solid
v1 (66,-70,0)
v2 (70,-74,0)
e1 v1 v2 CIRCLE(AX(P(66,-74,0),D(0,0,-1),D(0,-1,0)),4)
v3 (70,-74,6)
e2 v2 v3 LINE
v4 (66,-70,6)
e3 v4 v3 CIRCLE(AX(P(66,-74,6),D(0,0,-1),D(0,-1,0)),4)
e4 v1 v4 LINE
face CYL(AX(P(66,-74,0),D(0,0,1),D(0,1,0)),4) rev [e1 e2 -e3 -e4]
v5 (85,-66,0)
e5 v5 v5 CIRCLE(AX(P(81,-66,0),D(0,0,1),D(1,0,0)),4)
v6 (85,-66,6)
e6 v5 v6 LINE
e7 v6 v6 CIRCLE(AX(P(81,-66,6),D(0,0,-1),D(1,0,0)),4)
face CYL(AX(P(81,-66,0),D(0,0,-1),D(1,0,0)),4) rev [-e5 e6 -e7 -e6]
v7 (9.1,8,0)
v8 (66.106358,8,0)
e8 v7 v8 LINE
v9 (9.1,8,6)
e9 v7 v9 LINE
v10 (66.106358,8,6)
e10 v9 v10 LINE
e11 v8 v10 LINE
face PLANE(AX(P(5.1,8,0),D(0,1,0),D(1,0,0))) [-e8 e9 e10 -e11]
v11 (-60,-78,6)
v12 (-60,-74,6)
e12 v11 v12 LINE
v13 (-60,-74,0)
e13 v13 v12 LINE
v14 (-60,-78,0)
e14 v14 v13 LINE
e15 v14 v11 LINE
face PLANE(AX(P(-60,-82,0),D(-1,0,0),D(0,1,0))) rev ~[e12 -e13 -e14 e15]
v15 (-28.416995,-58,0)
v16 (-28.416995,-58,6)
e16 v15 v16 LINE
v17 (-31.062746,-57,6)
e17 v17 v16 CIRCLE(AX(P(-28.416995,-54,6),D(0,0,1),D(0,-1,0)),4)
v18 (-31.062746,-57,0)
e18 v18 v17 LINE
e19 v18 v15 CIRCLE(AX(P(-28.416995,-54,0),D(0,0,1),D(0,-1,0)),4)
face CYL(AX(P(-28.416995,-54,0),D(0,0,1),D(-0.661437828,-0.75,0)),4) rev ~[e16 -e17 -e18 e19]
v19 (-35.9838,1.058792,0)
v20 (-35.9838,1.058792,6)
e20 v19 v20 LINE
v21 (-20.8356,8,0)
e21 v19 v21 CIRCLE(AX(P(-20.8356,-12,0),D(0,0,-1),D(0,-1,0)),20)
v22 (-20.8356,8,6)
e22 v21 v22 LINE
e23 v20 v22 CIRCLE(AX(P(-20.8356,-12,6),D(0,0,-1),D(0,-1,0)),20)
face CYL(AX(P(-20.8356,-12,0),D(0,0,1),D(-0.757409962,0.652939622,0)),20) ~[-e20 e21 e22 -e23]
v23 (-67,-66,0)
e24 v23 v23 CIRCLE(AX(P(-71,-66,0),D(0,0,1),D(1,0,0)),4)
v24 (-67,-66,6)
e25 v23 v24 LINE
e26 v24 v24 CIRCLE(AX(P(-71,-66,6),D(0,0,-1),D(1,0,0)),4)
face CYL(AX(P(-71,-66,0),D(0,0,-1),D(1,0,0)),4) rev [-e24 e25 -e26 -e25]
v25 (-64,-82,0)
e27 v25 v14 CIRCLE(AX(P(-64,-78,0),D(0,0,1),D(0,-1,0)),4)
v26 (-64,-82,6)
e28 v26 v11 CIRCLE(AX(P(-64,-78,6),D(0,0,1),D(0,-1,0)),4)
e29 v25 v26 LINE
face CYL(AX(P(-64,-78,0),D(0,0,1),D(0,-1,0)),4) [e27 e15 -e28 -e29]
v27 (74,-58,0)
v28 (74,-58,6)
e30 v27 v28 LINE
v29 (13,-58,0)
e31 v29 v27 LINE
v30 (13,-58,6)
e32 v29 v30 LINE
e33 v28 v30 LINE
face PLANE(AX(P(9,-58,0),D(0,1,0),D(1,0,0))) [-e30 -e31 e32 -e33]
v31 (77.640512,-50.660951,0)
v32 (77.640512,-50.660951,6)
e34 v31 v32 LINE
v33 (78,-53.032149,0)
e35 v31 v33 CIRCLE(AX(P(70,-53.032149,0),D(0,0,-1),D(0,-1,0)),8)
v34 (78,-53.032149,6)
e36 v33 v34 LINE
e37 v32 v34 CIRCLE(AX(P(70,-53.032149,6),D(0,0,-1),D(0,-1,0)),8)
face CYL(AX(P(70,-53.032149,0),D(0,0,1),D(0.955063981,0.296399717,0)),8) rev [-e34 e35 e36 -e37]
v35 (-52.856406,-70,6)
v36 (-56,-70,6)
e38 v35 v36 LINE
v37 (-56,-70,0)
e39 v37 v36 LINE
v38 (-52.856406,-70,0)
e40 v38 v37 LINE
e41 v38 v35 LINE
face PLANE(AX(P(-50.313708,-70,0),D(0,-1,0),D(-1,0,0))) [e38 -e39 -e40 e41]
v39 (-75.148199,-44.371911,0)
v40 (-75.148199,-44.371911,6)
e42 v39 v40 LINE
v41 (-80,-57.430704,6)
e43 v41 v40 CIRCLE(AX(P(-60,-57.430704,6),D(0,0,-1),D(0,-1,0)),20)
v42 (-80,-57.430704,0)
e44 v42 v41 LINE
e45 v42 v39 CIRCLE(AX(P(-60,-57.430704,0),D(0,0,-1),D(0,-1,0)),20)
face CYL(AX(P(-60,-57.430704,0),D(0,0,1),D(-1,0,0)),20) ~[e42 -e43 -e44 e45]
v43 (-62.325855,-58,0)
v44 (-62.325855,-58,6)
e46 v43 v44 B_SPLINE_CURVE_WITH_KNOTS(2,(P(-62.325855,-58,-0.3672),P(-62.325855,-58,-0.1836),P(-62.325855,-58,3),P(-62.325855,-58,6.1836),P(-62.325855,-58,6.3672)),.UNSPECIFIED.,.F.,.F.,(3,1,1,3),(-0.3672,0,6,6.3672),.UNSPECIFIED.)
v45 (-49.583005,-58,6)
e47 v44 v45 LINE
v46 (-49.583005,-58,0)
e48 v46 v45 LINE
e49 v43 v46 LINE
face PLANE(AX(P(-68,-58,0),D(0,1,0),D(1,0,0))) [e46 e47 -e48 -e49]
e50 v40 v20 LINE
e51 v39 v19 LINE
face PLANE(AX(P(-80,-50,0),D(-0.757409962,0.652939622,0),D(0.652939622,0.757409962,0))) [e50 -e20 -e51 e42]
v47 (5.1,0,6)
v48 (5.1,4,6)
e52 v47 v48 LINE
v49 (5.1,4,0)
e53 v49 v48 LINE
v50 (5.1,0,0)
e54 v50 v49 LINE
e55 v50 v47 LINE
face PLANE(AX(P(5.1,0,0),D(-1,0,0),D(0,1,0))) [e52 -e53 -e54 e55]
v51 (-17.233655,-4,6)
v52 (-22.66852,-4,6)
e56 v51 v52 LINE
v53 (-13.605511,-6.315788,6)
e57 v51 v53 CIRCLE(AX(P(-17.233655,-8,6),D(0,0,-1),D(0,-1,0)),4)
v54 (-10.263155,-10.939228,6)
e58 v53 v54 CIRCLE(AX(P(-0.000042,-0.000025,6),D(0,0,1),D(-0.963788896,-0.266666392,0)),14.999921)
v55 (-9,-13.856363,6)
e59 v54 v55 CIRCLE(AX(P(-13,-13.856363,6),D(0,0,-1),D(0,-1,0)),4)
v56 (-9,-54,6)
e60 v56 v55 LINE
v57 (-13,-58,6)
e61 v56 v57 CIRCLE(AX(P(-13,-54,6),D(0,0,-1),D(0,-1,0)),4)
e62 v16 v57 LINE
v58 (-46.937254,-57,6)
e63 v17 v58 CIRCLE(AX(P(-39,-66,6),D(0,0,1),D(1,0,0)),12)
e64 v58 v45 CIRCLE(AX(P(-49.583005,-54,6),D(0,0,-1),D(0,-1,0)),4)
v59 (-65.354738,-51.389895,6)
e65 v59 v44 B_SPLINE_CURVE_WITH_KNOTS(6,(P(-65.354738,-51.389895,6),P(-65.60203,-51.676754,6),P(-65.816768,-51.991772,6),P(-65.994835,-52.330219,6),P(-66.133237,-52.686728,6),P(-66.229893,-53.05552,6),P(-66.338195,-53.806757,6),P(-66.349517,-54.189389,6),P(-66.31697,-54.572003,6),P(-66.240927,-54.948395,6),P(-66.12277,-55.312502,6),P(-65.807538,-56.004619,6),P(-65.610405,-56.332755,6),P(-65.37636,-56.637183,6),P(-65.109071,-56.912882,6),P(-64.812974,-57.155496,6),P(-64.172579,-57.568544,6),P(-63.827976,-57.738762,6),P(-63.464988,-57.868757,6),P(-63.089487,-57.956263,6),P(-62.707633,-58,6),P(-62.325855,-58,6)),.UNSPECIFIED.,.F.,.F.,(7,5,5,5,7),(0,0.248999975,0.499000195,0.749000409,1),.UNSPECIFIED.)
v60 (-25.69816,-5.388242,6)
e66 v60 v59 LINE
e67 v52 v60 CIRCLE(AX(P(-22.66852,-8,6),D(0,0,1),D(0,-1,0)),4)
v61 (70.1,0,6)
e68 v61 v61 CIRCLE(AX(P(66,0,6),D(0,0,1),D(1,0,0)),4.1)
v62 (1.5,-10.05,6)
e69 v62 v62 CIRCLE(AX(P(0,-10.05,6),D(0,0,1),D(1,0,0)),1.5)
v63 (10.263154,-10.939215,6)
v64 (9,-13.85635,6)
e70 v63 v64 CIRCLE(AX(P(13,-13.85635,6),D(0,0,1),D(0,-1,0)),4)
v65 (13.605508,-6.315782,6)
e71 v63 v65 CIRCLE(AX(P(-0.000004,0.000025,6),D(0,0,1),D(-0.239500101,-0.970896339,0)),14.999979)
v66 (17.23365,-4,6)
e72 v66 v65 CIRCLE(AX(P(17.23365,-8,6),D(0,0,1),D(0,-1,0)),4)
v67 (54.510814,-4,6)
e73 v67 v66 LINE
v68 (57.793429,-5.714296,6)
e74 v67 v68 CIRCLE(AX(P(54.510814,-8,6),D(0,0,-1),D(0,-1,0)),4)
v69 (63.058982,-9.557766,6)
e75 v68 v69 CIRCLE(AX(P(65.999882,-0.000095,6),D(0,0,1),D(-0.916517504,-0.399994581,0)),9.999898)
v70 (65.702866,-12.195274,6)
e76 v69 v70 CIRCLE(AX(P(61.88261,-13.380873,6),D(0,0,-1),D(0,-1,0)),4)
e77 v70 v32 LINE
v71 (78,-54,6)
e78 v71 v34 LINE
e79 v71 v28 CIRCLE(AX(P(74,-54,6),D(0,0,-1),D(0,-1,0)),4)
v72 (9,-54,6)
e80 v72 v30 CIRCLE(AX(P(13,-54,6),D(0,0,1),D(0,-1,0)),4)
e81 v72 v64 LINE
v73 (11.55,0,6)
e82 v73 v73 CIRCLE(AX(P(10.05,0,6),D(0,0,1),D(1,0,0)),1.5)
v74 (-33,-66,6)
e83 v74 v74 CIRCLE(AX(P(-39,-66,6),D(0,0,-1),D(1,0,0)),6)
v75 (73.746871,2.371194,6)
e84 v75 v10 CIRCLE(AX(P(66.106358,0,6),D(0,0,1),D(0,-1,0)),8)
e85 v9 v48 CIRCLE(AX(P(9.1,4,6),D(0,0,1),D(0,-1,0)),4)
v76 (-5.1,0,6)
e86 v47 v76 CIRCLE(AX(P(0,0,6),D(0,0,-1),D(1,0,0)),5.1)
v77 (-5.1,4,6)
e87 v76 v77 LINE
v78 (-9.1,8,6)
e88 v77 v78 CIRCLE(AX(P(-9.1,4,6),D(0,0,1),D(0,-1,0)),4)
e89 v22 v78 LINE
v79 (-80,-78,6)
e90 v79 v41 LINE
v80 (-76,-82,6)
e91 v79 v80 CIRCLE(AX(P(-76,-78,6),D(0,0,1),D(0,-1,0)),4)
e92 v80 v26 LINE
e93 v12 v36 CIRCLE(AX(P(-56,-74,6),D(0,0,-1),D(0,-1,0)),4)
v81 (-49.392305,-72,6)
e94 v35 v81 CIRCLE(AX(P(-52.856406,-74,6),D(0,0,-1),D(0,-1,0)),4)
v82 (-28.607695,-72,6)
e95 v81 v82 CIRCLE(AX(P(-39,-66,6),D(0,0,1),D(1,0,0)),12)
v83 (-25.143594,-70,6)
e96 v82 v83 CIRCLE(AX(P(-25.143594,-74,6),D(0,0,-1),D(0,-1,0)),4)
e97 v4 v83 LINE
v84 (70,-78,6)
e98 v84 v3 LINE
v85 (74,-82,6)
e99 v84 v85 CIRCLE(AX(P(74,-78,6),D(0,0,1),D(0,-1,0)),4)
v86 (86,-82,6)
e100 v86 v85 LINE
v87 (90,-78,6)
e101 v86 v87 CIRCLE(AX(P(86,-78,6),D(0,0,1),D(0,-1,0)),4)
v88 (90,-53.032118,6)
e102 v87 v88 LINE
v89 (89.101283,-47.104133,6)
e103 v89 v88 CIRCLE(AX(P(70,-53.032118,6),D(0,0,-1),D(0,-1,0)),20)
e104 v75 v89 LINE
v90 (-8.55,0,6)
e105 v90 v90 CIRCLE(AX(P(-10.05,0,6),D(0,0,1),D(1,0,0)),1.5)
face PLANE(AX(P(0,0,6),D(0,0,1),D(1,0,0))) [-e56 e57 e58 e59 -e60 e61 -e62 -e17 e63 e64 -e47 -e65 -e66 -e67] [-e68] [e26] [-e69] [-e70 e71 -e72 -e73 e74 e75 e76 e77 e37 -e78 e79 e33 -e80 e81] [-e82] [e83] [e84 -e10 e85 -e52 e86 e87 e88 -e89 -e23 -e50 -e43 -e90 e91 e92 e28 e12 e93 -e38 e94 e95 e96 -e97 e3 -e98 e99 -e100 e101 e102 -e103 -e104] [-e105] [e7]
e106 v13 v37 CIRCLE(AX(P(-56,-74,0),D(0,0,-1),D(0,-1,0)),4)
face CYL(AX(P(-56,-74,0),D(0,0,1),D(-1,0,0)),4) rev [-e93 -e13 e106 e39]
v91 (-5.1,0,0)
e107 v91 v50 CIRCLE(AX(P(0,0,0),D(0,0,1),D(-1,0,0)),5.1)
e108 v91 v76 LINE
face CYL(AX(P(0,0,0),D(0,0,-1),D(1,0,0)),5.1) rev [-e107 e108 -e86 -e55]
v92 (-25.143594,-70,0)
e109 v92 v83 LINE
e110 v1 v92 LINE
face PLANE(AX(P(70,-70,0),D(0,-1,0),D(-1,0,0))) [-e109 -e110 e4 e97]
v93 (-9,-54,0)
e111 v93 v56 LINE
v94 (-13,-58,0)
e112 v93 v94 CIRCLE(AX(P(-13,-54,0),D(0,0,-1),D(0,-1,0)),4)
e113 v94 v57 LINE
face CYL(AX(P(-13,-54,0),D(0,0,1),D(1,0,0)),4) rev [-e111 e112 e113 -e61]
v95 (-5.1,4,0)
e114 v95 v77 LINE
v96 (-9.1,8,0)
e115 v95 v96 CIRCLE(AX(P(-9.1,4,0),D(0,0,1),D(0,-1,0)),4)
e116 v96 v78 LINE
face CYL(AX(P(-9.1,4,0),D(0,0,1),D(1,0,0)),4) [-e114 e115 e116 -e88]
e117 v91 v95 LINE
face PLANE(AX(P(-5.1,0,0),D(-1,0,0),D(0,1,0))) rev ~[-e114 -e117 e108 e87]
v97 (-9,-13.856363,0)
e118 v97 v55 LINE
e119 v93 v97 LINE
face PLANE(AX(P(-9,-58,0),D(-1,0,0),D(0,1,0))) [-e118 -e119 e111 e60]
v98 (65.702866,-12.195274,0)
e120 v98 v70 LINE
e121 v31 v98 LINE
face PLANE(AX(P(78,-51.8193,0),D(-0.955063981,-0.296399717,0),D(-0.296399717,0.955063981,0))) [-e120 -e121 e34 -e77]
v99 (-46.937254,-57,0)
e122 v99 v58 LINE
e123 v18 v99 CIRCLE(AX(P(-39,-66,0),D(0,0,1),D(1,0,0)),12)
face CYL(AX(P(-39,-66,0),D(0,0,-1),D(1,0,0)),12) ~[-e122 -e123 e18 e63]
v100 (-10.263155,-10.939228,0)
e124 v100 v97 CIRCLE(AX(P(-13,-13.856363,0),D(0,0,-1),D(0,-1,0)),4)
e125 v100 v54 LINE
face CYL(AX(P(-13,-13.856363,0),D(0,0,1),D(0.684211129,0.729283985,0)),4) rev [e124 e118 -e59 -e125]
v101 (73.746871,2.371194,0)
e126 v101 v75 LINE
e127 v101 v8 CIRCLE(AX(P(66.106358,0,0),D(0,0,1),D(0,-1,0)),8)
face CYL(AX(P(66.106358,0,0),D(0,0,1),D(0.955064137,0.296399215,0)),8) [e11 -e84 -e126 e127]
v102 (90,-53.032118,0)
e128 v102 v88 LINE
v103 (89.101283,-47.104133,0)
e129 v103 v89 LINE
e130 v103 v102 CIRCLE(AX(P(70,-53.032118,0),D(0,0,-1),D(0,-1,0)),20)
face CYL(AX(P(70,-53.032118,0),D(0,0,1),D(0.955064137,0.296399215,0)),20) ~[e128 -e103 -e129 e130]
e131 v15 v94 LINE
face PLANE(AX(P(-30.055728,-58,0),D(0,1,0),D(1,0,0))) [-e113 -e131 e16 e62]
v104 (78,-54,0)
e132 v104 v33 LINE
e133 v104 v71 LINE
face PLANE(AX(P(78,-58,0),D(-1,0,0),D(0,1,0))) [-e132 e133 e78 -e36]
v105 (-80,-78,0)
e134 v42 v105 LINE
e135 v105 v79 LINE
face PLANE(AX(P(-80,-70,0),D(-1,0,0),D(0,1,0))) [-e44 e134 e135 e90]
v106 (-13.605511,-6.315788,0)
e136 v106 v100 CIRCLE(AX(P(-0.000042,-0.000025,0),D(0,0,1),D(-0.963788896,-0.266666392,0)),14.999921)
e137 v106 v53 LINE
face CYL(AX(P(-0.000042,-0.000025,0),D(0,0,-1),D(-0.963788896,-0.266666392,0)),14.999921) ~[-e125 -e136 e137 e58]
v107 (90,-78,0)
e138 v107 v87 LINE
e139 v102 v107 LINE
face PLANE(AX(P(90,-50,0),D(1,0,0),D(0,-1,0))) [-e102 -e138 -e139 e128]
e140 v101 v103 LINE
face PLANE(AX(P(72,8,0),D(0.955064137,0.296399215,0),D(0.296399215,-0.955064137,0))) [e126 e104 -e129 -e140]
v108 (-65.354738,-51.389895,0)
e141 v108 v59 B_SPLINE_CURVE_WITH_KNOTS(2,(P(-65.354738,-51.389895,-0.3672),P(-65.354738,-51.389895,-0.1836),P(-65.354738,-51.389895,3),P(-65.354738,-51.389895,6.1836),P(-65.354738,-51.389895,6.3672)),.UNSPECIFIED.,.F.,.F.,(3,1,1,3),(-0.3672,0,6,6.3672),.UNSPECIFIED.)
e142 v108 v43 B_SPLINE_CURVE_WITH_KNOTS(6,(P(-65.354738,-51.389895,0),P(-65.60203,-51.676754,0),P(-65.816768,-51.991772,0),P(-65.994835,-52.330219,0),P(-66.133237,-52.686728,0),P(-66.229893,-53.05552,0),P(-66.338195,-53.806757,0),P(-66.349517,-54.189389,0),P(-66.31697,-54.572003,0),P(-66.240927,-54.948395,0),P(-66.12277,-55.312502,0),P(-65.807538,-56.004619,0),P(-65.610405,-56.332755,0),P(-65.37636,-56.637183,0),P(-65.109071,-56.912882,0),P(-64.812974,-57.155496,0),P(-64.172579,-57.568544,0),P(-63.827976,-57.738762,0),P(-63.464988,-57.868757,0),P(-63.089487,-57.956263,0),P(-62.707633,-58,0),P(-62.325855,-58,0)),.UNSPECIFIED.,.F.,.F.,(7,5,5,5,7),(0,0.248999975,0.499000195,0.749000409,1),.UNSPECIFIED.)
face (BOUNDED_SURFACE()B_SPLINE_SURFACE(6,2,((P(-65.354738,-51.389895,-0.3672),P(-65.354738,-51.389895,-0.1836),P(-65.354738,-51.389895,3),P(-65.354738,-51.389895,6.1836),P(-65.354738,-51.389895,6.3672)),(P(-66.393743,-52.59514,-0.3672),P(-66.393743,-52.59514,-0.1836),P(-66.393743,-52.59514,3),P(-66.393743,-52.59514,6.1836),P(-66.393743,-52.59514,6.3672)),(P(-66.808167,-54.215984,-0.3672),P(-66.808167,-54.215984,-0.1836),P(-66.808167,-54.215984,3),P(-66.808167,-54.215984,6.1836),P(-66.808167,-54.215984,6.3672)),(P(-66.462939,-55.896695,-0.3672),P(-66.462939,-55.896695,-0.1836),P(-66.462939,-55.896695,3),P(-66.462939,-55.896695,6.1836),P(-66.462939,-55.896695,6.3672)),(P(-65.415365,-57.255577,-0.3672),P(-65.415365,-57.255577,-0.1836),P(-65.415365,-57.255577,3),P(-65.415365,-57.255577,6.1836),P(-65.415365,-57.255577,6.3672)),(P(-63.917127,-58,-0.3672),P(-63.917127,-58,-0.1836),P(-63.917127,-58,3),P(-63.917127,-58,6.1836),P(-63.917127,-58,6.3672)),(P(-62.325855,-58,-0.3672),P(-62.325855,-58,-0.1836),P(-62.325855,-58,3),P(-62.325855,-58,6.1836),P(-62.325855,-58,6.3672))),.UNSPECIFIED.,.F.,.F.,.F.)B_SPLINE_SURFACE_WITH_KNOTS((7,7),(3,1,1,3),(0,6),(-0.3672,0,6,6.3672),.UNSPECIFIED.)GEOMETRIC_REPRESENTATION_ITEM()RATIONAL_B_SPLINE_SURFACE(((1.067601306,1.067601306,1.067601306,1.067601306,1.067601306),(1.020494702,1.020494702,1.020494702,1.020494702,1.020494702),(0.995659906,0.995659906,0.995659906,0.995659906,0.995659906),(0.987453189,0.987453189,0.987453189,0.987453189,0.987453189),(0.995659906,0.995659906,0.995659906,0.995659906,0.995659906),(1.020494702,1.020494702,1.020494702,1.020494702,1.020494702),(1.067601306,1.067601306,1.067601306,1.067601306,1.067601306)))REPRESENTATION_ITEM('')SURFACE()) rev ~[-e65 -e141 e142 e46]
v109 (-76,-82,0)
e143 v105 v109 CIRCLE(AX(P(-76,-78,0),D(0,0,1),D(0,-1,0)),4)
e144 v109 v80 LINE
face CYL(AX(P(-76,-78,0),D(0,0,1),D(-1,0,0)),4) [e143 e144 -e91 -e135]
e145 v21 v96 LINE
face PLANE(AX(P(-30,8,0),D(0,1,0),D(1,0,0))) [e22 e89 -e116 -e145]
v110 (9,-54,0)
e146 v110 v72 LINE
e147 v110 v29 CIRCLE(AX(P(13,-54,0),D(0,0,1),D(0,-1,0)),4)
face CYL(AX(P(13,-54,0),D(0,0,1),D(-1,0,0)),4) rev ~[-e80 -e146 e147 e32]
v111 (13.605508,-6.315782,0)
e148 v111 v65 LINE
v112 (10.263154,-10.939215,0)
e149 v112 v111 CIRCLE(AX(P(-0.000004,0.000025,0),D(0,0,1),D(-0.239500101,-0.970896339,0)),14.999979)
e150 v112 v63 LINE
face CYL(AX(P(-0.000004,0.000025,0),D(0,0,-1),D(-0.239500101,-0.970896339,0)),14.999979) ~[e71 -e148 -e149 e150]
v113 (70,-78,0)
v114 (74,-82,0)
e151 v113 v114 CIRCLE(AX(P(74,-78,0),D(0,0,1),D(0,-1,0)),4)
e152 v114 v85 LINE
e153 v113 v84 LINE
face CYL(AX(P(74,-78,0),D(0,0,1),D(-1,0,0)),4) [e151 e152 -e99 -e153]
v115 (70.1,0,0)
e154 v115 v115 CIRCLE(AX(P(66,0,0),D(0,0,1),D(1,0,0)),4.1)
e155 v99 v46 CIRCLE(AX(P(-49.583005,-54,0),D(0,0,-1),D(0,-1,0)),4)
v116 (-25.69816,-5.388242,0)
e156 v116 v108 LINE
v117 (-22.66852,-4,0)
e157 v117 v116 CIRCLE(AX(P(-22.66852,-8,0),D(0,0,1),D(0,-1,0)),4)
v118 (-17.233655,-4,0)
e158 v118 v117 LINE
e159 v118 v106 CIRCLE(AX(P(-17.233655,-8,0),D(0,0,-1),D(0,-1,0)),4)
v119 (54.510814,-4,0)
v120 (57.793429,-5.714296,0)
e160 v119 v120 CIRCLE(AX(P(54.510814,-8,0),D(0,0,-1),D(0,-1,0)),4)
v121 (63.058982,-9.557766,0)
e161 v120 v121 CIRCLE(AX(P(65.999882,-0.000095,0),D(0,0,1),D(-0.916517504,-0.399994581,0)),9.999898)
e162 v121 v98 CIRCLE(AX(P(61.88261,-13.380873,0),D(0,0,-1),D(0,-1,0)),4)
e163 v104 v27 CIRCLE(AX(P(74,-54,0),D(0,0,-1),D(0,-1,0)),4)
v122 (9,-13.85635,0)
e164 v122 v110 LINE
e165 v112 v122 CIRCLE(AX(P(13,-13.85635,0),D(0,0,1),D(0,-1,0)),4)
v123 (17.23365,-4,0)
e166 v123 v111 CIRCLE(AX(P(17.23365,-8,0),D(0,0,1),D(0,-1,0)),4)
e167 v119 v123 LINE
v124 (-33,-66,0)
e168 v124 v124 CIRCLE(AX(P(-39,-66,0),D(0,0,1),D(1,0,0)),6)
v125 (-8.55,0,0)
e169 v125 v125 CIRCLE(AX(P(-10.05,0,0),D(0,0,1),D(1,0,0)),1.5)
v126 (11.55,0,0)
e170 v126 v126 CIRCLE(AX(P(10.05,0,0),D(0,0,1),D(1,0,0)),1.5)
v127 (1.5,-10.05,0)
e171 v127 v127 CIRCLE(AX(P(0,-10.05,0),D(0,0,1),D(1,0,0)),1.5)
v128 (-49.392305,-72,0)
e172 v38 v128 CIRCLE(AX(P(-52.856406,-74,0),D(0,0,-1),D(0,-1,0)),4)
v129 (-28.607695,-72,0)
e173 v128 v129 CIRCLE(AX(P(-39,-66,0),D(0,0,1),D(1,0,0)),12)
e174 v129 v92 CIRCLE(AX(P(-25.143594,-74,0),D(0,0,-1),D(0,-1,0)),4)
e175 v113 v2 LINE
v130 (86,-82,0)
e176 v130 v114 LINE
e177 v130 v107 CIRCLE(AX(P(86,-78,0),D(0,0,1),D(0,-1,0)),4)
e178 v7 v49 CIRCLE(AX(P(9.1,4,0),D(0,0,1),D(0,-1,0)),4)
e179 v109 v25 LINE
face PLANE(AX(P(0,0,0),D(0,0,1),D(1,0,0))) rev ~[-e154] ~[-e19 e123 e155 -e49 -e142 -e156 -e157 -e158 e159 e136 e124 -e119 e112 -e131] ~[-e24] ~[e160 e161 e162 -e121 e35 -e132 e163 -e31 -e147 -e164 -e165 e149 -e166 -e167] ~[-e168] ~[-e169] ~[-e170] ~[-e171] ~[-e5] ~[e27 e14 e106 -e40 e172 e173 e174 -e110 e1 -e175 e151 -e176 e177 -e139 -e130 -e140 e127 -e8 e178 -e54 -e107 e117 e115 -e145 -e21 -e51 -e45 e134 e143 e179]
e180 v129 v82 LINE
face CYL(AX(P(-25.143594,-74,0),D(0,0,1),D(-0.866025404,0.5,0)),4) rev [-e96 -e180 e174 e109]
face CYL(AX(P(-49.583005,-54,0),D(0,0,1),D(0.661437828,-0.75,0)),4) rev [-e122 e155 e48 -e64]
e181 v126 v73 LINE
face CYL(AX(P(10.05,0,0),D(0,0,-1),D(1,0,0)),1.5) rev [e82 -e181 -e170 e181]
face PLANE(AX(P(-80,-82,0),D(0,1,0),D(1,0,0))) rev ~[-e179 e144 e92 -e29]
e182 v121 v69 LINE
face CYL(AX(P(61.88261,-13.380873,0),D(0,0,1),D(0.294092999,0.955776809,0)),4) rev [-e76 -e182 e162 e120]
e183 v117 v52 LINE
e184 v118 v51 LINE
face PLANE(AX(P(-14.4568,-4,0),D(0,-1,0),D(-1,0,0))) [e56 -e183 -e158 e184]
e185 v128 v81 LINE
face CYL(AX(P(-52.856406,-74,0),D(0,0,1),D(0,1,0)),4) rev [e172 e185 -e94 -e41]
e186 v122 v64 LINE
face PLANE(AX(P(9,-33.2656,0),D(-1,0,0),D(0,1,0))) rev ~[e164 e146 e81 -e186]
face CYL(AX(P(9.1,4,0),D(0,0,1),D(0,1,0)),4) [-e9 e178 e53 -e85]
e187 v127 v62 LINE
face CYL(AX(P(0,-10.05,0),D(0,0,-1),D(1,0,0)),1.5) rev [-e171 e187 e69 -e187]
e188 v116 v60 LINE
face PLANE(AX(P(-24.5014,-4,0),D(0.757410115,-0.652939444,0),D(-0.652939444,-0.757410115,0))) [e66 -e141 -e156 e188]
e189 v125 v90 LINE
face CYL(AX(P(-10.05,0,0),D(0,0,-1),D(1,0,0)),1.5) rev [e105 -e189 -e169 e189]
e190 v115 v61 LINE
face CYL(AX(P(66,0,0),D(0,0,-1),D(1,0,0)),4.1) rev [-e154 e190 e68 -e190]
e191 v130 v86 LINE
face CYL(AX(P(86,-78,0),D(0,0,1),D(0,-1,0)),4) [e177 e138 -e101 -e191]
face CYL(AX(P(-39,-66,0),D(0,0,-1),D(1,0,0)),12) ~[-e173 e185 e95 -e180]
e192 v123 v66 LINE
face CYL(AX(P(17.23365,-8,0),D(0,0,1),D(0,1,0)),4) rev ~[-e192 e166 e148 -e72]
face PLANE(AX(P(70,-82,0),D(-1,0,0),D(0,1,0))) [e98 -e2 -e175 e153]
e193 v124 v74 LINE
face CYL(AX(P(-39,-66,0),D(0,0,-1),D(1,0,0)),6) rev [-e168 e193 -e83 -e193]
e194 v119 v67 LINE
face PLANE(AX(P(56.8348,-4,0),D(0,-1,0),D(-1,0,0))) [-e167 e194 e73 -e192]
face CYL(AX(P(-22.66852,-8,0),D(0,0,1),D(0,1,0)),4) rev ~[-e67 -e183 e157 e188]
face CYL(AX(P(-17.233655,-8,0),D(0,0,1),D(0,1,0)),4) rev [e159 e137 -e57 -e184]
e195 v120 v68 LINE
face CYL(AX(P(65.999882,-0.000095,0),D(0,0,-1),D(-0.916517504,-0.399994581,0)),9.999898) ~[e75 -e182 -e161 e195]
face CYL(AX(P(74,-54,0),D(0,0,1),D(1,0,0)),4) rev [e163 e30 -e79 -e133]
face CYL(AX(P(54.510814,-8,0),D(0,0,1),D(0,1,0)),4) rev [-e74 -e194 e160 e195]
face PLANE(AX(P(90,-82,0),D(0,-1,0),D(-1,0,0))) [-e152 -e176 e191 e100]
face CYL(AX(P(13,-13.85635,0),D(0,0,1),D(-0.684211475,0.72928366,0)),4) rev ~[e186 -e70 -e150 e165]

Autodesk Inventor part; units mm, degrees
ref_plane "YZ Plane" through (0, 0, 0) normal (1, 0, 0) x (0, 1, 0)
ref_plane "XZ Plane" through (0, 0, 0) normal (0, 1, 0) x (-1, 0, 0)
ref_plane "XY Plane" through (0, 0, 0) normal (0, 0, 1) x (1, 0, 0)
sketch "Эскиз1" plane through (0, 0, 0) normal (0, 0, 1) x (1, 0, 0)
  circle A0 centre (0, 0) radius 60 construction
  line L0 (-80, -70) -> (-80, -50)
  line L1 (-80, -50) -> (-30, 8)
  line L2 (-30, 8) -> (72, 8)
  line L3 (72, 8) -> (90, -50)
  line L4 (90, -50) -> (90, -70)
  line L5 (90, -70) -> (-80, -70)
  line L6 (0, -110.4) -> (0, 88.4) construction
  line L7 (-115.4, 0) -> (132.4, 0) construction
  line L8 (-80, -50) -> (90, -50) construction
  circle A1 centre (67, -35) radius 12.5 construction
  circle A2 centre (0, 0) radius 5.1
  circle A3 centre (66, 0) radius 4.1
  circle A4 centre (67, -35) radius 4
  circle A5 centre (67, -35) radius 8.5 construction
  line L9 (67, -49.1463) -> (67, -22.5) construction
  circle A6 centre (67, -43.5) radius 1.6
  circle A7 centre (67, -26.5) radius 1.6
  line L10 (-24.5014, -4) -> (-68, -54.4584)
  line L11 (-68, -54.4584) -> (-68, -58)
  line L12 (-68, -58) -> (78, -58)
  line L13 (78, -58) -> (78, -51.8193)
  line L14 (78, -51.8193) -> (63.1595, -4)
  line L15 (63.1595, -4) -> (-24.5014, -4)
  arc A8 (-3.5925, -14.5634) -> (14.4568, -4) centre (0, 0) ccw
  arc A9 (-14.4568, -4) -> (-3.5925, -14.5634) centre (0, 0) ccw
  arc A10 (14.4568, -4) -> (-14.4568, -4) centre (0, 0) ccw construction
  line L16 (-9, -58) -> (-9, -12)
  line L17 (9, -58) -> (9, -12)
  arc A11 (65.0062, -9.9505) -> (56.8348, -4) centre (66, 0) ccw construction
  line L18 (68.4354, -21) -> (58.4354, -21)
  line L19 (58.4354, -21) -> (47.8258, -58)
  arc A12 (56.8348, -4) -> (65.0062, -9.9505) centre (66, 0) ccw
  line L20 (-80, -70) -> (-80, -82)
  line L21 (-80, -82) -> (-60, -82)
  line L22 (-60, -82) -> (-60, -70)
  line L23 (90, -70) -> (90, -82)
  line L24 (90, -82) -> (70, -82)
  line L25 (70, -82) -> (70, -70)
  circle A13 centre (-71, -66) radius 4
  circle A14 centre (81, -66) radius 4
  line L26 (-80, -66) -> (90, -66) construction
  line L27 (-5.1, 0) -> (-5.1, 8)
  line L28 (5.1, 0) -> (5.1, 8)
  circle A15 centre (37.4657, -40.2656) radius 6
  circle A16 centre (37.4657, -40.2656) radius 12
  circle A17 centre (67, -35) radius 30 construction
  circle A18 centre (0, 0) radius 55 construction
  line L29 (9, -40.2656) -> (74.4144, -40.2656) construction
  line L30 (9, -47.2656) -> (50.9039, -47.2656)
  line L31 (9, -33.2656) -> (54.9183, -33.2656)
  line L32 (69.7458, -32.0913) -> (70, -32.0913)
  circle A19 centre (0, 0) radius 10.05 construction
  circle A20 centre (-10.05, 0) radius 1.5
  circle A21 centre (10.05, 0) radius 1.5
  circle A22 centre (0, -10.05) radius 1.5
  circle A23 centre (-39, -66) radius 12
  circle A24 centre (-39, -66) radius 6
  point P0 (56.8348, -4)
  point P1 (65.0062, -9.9505)
  point P2 (59.5152, -7.6123)
  point P3 (27.7189, -33.2656)
  point P4 (27.7189, -47.2656)
  point P5 (47.2125, -47.2656)
  point P6 (47.2125, -33.2656)
  point P7 (3.1639, -4)
  point P8 (-3.1639, -4)
  point P9 (-27.6863, -70)
  point P10 (-50.3137, -70)
  point P11 (-30.0557, -58)
  point P12 (-47.9443, -58)
  dimension "d0" = 120
  dimension "d1" = 25
  dimension "d14" = 8
  dimension "d44" = 60
  dimension "d45" = 110
  dimension "d2" = 10.2
  dimension "d3" = 8
  dimension "d5" = 20
  dimension "d6" = 70
  dimension "d8" = 30
  dimension "d9" = 72
  dimension "d10" = 8.2
  dimension "d11" = 66
  dimension "d12" = 80
  dimension "d13" = 90
  dimension "d15" = 35
  dimension "d17" = 17
  dimension "d19" = 3.2
  dimension "d20" = 67
  dimension "d25" = 12
  dimension "d26" = 30
  dimension "d27" = 9
  dimension "d28" = 9
  dimension "d29" = 20
  dimension "d31" = 21
  dimension "d32" = 106
  dimension "d33" = 10
  dimension "d35" = 20
  dimension "d36" = 12
  dimension "d37" = 8
  dimension "d38" = 8
  dimension "d39" = 16
  dimension "d40" = 9
  dimension "d41" = 9
  dimension "d42" = 12
  dimension "d43" = 24
  dimension "d47" = 7
  dimension "d48" = 7
  dimension "d52" = 3
  dimension "d53" = 3
  dimension "d54" = 3
  dimension "d55" = 20.1
  dimension "d56" = 24
  dimension "d57" = 12
  dimension "d58" = 32
extrude "Выдавливание1" add sketch "Эскиз1" along normal blind 6 contours L0 L1 L2 L27 A2 L15 L10 L11 L12 A23 L5 | L5 L22 L21 L20 | A23 L12 L5 A24 | L5 A24 A23 | L2 L3 L4 L5 A23 L12 L13 L14 L15 A2 L28 | A23 L12 | A2 L15 A8 A9 | L5 L23 L24 L25 | L16 A9 A8 L17 L12 | L15 L14 A12
fillet "Сопряжение1" radius 4 24 edges at (9, -12, 3) (-24.5014, -4, 3) (-9, -58, 3) (-68, -54.4584, 3) (-68, -58, 3) (9, -58, 3) (56.8348, -4, 3) (65.0062, -9.9505, 3) (-80, -82, 3) (-60, -82, 3) (-60, -70, 3) (70, -70, 3) (70, -82, 3) (90, -82, 3) (5.1, 8, 3) (-5.1, 8, 3) (78, -58, 3) (-14.4568, -4, 3) (-9, -12, 3) (14.4568, -4, 3) (-47.9443, -58, 3) (-30.0557, -58, 3) (-50.3137, -70, 3) (-27.6863, -70, 3)
fillet "Сопряжение1" radius 20 3 edges at (-80, -50, 3) (-30, 8, 3) (90, -50, 3)
fillet "Сопряжение1" radius 8 2 edges at (72, 8, 3) (78, -51.8193, 3)
equation "\"d28\" = d27"
properties part number "Опора катушки (врунтренняя)"
